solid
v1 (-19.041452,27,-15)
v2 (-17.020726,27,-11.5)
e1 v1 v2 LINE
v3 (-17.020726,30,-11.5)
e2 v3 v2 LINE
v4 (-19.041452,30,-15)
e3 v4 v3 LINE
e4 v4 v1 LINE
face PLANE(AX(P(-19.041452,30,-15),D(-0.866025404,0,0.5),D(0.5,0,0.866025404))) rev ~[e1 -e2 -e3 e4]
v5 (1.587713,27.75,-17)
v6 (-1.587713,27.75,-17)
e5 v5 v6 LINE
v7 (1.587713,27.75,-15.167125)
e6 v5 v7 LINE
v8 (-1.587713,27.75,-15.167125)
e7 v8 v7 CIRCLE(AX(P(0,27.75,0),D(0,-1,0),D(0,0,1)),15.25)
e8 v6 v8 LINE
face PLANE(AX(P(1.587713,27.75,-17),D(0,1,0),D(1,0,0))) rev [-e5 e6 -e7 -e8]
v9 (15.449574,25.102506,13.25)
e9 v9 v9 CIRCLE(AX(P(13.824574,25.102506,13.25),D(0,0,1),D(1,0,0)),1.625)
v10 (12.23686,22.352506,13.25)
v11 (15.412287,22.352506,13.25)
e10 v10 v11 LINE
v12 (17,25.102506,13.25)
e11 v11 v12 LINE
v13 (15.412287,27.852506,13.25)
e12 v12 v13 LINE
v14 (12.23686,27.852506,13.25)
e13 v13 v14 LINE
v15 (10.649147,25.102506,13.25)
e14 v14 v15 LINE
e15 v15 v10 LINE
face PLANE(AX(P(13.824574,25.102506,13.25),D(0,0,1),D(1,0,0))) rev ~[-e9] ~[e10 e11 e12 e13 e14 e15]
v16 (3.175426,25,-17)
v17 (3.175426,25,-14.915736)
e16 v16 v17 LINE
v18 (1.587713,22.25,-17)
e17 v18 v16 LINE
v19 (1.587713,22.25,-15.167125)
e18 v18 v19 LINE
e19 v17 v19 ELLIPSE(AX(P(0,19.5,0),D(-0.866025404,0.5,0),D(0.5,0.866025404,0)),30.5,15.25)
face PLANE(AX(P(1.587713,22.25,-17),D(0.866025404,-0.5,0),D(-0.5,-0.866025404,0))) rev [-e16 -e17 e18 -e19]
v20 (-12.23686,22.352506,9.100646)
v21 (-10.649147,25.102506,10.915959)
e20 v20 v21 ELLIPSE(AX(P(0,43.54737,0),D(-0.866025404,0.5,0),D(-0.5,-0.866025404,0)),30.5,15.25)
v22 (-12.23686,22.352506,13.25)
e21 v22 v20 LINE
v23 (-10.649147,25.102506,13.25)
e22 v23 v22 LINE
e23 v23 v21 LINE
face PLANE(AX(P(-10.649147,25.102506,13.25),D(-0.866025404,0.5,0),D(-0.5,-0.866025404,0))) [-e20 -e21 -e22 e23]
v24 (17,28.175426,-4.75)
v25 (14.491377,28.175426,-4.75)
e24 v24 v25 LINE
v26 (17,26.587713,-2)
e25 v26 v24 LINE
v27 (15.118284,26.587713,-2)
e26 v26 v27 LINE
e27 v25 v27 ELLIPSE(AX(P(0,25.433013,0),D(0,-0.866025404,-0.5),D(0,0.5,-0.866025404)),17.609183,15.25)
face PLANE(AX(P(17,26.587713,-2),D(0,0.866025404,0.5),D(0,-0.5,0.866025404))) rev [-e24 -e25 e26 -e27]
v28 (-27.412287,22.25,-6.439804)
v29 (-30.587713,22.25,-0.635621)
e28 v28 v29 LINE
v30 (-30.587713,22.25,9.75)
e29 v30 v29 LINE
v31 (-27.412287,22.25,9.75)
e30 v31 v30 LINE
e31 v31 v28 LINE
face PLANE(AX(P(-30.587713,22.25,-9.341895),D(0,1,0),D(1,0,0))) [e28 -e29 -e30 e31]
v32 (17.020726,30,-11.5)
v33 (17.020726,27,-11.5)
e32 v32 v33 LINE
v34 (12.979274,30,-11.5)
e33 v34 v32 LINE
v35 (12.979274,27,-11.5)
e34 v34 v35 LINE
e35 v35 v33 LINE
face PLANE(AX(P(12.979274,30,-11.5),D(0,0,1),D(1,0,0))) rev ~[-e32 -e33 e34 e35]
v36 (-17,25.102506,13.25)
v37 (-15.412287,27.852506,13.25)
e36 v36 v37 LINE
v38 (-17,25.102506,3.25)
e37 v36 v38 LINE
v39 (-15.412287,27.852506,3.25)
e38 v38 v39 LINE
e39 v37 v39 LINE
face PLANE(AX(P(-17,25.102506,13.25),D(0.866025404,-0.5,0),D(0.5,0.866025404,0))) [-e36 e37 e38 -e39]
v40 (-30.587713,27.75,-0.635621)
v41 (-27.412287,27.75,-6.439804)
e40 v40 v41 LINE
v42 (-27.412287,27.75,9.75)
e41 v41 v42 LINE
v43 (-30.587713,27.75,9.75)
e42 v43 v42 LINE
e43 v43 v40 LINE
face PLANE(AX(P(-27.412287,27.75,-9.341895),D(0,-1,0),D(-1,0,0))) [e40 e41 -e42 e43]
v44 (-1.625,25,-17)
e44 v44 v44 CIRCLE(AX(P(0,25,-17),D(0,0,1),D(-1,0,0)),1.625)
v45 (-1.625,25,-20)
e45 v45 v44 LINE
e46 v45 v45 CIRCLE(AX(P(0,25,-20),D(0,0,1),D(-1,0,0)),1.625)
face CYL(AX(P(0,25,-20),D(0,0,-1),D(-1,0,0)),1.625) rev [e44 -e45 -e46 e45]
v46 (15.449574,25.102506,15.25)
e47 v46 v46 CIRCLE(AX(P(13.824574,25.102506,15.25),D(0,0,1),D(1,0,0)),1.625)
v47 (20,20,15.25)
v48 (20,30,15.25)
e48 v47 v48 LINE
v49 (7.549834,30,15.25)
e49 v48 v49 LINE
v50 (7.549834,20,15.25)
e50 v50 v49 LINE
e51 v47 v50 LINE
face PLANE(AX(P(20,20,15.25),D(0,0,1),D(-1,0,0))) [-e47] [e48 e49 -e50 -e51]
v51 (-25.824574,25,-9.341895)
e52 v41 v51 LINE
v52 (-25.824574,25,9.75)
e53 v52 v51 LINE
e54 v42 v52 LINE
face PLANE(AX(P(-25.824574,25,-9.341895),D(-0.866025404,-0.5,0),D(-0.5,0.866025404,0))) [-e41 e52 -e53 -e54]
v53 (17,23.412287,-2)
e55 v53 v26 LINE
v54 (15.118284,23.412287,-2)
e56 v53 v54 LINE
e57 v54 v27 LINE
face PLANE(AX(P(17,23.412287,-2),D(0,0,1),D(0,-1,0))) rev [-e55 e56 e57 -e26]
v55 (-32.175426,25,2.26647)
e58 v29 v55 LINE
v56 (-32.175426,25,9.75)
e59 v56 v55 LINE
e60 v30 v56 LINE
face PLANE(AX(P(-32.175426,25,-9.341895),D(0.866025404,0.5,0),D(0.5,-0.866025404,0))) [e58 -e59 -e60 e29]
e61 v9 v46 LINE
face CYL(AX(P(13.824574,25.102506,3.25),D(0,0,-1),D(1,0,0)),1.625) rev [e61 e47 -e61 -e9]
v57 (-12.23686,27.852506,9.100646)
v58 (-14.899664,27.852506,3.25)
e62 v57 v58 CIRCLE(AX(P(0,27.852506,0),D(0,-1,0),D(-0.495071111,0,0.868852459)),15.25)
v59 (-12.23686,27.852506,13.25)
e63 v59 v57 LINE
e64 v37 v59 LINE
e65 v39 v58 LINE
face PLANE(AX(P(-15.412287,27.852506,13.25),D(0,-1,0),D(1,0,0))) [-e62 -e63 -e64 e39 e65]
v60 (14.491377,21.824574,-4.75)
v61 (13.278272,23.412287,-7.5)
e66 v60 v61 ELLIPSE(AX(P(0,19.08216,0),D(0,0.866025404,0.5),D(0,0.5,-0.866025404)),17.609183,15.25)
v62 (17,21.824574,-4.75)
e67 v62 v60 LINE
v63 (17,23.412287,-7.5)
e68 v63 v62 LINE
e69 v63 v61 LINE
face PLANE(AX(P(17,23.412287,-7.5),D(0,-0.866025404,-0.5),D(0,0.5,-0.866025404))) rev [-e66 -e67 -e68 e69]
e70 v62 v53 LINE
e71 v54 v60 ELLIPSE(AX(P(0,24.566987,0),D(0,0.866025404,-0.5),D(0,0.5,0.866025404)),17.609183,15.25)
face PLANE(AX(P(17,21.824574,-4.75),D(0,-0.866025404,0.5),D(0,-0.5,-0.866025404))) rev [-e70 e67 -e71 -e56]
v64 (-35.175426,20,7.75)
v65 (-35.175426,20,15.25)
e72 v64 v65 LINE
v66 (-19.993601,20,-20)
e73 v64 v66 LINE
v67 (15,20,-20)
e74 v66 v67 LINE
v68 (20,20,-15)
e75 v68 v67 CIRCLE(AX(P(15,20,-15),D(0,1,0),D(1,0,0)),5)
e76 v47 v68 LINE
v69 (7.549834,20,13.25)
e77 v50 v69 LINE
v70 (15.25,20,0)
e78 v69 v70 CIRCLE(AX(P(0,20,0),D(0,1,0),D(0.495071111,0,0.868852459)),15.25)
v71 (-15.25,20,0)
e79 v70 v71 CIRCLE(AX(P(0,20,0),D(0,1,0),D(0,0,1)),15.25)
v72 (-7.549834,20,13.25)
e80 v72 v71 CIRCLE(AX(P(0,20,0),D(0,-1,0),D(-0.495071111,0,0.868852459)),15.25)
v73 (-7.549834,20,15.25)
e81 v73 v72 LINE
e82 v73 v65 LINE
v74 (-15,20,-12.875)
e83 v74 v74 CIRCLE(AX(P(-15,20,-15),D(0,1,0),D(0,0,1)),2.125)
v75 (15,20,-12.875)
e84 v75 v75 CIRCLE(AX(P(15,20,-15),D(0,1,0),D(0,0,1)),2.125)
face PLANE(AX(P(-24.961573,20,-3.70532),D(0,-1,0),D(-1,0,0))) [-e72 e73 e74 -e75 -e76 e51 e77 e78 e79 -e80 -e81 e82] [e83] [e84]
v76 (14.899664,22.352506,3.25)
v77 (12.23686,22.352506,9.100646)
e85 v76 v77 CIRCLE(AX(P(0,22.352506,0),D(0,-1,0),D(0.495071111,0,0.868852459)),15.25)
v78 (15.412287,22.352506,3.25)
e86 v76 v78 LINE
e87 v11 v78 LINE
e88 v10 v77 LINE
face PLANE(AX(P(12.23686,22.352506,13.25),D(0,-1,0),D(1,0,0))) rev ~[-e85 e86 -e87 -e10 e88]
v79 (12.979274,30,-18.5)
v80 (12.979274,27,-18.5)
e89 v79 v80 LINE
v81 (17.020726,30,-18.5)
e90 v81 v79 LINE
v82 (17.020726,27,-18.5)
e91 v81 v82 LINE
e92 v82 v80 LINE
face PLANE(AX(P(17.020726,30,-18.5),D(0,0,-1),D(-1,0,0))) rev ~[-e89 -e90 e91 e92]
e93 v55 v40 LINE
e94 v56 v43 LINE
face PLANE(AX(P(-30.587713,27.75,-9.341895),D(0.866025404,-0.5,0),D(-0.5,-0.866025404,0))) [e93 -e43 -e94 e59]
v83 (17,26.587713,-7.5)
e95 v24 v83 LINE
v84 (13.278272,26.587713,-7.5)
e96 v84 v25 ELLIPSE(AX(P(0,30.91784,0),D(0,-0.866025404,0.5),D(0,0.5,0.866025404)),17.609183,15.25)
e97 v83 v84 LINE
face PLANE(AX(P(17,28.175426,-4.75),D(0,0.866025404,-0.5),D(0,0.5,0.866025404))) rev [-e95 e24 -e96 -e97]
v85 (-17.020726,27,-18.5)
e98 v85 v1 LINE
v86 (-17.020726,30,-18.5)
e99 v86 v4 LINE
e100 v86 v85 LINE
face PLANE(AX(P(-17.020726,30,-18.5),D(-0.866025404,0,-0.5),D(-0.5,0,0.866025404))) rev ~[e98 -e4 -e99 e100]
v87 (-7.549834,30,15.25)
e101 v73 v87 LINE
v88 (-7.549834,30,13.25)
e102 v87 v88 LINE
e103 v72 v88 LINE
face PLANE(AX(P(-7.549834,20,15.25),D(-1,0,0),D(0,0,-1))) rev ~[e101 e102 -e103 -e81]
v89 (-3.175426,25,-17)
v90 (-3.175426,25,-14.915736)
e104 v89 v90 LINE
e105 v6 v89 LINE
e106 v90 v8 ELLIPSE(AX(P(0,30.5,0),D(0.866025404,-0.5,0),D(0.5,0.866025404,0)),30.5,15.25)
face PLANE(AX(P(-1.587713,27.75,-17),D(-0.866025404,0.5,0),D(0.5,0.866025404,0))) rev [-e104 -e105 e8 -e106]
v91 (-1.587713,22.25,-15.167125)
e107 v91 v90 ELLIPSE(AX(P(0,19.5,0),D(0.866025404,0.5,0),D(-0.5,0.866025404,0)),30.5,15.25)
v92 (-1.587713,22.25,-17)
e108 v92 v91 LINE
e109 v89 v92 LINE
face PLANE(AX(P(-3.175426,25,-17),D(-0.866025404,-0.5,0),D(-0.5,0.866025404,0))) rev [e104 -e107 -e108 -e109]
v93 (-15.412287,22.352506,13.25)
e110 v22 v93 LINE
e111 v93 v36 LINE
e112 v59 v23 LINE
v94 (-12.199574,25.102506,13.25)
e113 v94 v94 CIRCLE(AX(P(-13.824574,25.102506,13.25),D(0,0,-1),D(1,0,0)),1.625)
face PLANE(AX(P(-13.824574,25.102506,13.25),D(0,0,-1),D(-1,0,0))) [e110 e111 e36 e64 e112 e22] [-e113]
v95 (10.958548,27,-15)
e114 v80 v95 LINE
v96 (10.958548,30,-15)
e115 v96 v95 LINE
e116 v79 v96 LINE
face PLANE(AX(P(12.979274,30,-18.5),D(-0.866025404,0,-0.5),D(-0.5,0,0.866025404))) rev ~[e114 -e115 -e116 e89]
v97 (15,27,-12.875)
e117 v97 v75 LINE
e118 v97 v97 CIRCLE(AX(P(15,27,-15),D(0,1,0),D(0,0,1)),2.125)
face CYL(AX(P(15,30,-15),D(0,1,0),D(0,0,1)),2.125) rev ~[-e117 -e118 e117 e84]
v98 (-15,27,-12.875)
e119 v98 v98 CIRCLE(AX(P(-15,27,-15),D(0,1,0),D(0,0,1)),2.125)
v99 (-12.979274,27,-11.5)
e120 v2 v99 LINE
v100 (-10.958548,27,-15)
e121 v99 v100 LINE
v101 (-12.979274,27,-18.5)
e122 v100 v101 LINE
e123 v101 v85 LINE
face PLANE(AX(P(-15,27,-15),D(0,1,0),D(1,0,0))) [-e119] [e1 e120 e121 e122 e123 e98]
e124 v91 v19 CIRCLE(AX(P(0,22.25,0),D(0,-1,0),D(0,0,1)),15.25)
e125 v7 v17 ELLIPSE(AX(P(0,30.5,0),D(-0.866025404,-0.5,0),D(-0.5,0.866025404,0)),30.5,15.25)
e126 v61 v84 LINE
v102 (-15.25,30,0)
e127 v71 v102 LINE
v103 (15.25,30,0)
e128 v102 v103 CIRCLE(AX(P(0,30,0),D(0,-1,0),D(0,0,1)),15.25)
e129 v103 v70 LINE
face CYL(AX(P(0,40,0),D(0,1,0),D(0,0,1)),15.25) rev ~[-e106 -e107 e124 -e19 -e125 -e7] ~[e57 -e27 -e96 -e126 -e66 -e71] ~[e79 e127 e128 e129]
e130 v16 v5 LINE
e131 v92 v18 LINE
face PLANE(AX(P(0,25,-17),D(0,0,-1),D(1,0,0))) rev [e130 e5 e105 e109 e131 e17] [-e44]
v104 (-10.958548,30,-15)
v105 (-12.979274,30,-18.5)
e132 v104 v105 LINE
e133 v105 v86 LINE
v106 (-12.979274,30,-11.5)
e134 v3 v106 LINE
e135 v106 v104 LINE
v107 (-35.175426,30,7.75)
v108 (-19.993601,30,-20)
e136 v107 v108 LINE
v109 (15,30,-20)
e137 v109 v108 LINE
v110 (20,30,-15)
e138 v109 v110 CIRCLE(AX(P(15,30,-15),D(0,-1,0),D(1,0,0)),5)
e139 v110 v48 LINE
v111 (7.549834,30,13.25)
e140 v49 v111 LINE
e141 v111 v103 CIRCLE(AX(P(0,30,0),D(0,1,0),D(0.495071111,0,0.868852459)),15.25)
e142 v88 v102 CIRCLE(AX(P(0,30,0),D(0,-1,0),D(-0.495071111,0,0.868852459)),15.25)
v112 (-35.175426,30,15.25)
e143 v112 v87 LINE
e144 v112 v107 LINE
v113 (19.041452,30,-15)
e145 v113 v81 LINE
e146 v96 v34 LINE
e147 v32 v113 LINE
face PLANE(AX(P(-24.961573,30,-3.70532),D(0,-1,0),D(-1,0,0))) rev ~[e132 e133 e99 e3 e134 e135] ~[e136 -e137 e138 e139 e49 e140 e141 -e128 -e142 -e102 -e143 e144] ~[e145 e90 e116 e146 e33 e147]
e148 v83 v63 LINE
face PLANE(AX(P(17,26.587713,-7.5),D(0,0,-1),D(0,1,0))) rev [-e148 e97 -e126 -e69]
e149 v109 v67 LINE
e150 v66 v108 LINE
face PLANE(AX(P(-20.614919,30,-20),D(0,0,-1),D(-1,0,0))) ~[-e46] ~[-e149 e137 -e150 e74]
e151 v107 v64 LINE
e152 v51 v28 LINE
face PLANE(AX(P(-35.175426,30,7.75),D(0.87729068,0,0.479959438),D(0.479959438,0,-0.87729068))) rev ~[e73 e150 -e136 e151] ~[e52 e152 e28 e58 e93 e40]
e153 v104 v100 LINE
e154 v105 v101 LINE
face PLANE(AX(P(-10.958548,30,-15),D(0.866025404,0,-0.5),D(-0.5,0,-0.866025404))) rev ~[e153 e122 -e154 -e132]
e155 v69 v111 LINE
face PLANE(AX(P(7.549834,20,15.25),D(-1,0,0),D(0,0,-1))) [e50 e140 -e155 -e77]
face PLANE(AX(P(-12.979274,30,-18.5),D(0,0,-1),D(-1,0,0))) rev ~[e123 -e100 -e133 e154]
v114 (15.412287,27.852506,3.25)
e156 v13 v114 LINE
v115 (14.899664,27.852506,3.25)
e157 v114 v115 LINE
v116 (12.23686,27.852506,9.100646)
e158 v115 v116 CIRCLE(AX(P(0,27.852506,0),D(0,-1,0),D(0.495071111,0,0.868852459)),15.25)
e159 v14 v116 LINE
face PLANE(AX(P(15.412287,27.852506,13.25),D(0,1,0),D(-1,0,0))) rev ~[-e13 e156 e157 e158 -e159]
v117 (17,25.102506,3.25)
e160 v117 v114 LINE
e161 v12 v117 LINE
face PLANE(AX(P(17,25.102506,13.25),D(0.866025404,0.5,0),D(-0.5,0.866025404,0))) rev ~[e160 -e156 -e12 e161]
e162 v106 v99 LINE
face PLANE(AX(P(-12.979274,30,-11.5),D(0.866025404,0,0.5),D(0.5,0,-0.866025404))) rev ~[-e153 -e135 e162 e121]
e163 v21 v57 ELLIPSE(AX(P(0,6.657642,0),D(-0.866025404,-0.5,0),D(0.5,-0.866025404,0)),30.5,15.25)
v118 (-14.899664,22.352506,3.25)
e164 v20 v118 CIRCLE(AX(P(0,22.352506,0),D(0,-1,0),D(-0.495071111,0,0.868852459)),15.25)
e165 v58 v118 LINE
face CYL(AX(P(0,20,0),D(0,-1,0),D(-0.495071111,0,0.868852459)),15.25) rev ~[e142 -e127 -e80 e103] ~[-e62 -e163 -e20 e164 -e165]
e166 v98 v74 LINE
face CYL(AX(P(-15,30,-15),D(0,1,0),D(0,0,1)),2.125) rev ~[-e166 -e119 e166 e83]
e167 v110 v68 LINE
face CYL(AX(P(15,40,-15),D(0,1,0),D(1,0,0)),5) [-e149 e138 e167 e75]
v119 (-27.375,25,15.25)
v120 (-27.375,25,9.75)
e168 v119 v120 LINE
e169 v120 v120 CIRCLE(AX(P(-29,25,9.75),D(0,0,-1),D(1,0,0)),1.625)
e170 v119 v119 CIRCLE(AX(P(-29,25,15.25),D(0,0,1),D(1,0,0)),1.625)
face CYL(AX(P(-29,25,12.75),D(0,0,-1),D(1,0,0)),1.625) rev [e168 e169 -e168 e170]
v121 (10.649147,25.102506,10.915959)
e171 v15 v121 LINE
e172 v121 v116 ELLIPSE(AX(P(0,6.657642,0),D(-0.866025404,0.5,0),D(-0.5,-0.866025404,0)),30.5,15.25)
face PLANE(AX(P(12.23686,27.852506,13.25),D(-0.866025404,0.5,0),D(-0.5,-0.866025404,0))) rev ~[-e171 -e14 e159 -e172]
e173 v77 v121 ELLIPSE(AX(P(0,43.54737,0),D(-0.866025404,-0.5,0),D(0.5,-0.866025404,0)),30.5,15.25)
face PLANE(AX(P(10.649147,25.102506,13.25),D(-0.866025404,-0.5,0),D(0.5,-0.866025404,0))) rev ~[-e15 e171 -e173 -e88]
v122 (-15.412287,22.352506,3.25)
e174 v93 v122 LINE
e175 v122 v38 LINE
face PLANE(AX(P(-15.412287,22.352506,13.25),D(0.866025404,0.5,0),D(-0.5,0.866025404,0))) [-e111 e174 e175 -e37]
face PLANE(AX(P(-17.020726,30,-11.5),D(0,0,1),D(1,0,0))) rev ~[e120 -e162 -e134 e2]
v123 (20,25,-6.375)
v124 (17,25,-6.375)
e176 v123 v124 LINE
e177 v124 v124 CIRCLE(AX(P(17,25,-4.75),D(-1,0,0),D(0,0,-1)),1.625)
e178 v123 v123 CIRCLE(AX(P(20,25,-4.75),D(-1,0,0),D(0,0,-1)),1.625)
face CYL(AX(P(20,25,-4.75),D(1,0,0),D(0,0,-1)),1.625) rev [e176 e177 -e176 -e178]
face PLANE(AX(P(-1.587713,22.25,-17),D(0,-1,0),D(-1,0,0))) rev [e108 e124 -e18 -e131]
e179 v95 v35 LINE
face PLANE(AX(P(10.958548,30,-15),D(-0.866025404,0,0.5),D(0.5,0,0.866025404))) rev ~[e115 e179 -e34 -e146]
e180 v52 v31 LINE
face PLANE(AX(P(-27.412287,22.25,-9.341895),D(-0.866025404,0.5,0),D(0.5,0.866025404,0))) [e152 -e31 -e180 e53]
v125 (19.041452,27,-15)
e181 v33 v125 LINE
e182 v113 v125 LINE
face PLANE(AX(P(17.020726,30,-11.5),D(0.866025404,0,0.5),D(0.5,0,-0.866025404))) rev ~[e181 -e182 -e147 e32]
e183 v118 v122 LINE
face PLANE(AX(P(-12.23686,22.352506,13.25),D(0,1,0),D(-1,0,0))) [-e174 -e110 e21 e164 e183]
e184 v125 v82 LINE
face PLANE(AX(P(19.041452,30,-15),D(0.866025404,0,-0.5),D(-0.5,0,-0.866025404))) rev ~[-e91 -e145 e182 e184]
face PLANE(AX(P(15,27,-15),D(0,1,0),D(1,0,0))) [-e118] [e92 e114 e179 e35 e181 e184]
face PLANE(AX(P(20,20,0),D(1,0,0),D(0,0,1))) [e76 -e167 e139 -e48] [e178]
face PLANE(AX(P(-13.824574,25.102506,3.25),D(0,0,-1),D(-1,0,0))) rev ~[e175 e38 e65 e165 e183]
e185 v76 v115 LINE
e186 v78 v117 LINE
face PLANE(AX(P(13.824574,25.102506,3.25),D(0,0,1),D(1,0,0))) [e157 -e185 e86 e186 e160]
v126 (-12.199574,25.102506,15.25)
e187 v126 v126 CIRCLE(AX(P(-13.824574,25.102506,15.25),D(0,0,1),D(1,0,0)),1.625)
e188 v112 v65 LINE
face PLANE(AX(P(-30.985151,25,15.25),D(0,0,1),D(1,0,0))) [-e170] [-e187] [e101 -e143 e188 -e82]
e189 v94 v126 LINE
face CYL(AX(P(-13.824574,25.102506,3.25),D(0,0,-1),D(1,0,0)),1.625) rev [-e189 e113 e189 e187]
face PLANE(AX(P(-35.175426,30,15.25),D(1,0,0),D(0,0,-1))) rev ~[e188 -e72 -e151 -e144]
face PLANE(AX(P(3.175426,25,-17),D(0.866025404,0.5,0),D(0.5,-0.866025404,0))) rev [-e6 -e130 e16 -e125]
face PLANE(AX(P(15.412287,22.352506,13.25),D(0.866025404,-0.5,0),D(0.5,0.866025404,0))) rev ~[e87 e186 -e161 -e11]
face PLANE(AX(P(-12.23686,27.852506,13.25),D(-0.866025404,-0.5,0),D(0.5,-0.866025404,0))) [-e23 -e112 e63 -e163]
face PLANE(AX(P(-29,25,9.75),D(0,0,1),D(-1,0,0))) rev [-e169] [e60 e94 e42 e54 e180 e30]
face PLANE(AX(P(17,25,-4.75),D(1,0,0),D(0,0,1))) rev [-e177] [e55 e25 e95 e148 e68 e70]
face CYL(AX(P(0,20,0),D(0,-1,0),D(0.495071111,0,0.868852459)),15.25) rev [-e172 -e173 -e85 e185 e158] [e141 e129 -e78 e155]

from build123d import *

# Parameters (mm, degrees)
CROQUIS1_R                              = 15.25
CROQUIS1_R_2                            = 2.125
SOPORTE_CAJA_REDUCTORA_DEPTH            = 20
CROQUIS3_R                              = 2.125
CORTAR_EXTRUIR1_DEPTH                   = 51.423828692
REDONDEO1_R                             = 5
BOSS_EXTRUDE1_DEPTH                     = 20
CUT_EXTRUDE1_REACH                      = 55.852
SKETCH2_R                               = 1.625
CUT_EXTRUDE2_DEPTH                      = 2
SKETCH4_R                               = 1.625
CUT_EXTRUDE3_DEPTH                      = 63.291652731
CUT_EXTRUDE4_START                      = -4.5
CUT_EXTRUDE4_DEPTH                      = 2
CROQUIS6_W                              = 4.75
CROQUIS6_H                              = 4.75
CORTAR_EXTRUIR17_DEPTH                  = 42.231056256
CROQUIS7_W                              = 60
CROQUIS7_H                              = 20
CORTAR_EXTRUIR18_DEPTH                  = 51.423828692
SALIENTE_EXTRUIR2_DEPTH                 = 49
SOPORTE_START                           = -15
SOPORTE_MOTOR_DEPTH                     = 15
CROQUIS12_R                             = 2.125
AGUJEROS_DE_SUJECION_A_BASE_DEPTH       = 84.087679592
TUERCA_START                            = -4
TUERCA_AGUJERO_DE_SUJECION_A_BASE_DEPTH = 10
SALIENTE_EXTRUIR4_DEPTH                 = 15
CORTAR_EXTRUIR19_DEPTH                  = 25
CROQUIS14_W                             = 50
CROQUIS14_H                             = 118
CORTAR_EXTRUIR22_DEPTH                  = 146.556045907
CROQUIS15_W                             = 10
CROQUIS15_H                             = 7
CORTAR_EXTRUIR23_DEPTH                  = 42.231056256
CORTAR_EXTRUIR24_DEPTH                  = 42.231056256
CROQUIS18_W                             = 40
CROQUIS18_H                             = 10
CORTAR_EXTRUIR25_DEPTH                  = 44.27311521
SALIENTE_EXTRUIR5_DEPTH                 = 10
CROQUIS20_R                             = 1
CORTAR_EXTRUIR26_DEPTH                  = 49.229270158
CORTAR_EXTRUIR27_REACH                  = 62.959
CORTAR_EXTRUIR27_END_RADIUS             = 15.25
CROQUIS21_R                             = 1.625
CROQUIS22_R                             = 2.125
CROQUIS22_R_2                           = 1
SALIENTE_EXTRUIR6_DEPTH                 = 10
CROQUIS23_R                             = 1.625
CORTAR_EXTRUIR28_DEPTH                  = 52.269508521
CORTAR_EXTRUIR29_START                  = -3
CORTAR_EXTRUIR29_DEPTH                  = 10
SALIENTE_EXTRUIR7_DEPTH                 = 10
CORTAR_EXTRUIR30_REACH                  = 72.235
CROQUIS27_R                             = 1.625
CORTAR_EXTRUIR31_REACH                  = 75.235
CORTAR_EXTRUIR31_START                  = -3
CORTAR_EXTRUIR32_REACH                  = 58.612
CROQUIS29_R                             = 1.625
CORTAR_EXTRUIR33_REACH                  = 61.112
CORTAR_EXTRUIR33_START                  = -2.5
CROQUIS35_W                             = 13.305418987
CROQUIS35_H                             = 6.826864192
CORTAR_EXTRUIR34_DEPTH                  = 63.931555098
CORTAR_EXTRUIR34_DEPTH_BACK             = 63.931555098
CORTAR_EXTRUIR35_START                  = -3
CORTAR_EXTRUIR35_DEPTH                  = 10
SALIENTE_EXTRUIR8_DEPTH                 = 10
SALIENTE_EXTRUIR9_DEPTH                 = 13
SALIENTE_EXTRUIR10_DEPTH                = 3
CROQUIS40_W                             = 106.583537839
CROQUIS40_H                             = 47.391515964
CORTAR_EXTRUIR36_DEPTH                  = 80.887064817
CORTAR_EXTRUIR36_DEPTH_BACK             = 80.887064817
CORTAR_EXTRUIR37_DEPTH                  = 67.2524009
CORTAR_EXTRUIR37_DEPTH_BACK             = 67.2524009
CORTAR_EXTRUIR38_DEPTH                  = 79.704784639
CORTAR_EXTRUIR38_DEPTH_BACK             = 79.704784639
SALIENTE_EXTRUIR11_DEPTH                = 10
CORTAR_EXTRUIR39_DEPTH                  = 63.9908649
CROQUIS45_W                             = 31.470301378
CROQUIS45_H                             = 10
CROQUIS45_R                             = 1.625
SALIENTE_EXTRUIR12_DEPTH                = 2.5
SALIENTE_EXTRUIR13_DEPTH                = 10
CORTAR_EXTRUIR40_START                  = -2
CROQUIS47_R                             = 1.625
CORTAR_EXTRUIR40_DEPTH                  = 10
CORTAR_EXTRUIR41_START                  = -12
CROQUIS48_R                             = 1.625
CORTAR_EXTRUIR41_DEPTH                  = 12
CORTAR_EXTRUIR42_DEPTH                  = 3
CROQUIS50_R                             = 2.125
CORTAR_EXTRUIR43_DEPTH                  = 52.795622989
CORTAR_EXTRUIR43_DEPTH_BACK             = 52.795622989
CORTAR_EXTRUIR44_DEPTH                  = 52.795622989
CORTAR_EXTRUIR44_DEPTH_BACK             = 52.795622989
SALIENTE_EXTRUIR14_DEPTH                = 10
CORTAR_EXTRUIR45_START                  = -24.591895
CORTAR_EXTRUIR45_DEPTH                  = 17.091895


with BuildPart() as part:
    # Croquis1 → Soporte caja reductora (new body)
    with BuildSketch(Plane(origin=(0, 0, 0), x_dir=(1, 0, 0), z_dir=(0, 1, 0))):
        Polygon((-30, -15.25), (-20, -15.25), (-20, -20), (20, -20), (20, -15.25), (30, -15.25), (30, -7.25), (20, -4.25), (20, 20), (-20, 20), (-20, -4.25), (-30, -7.25), align=None)
        with Locations(Location((0, 0, 0), (0, 0, 270))):
            Circle(CROQUIS1_R, mode=Mode.SUBTRACT)
        with Locations(Location((-15, 15, 0), (0, 0, 270))):
            Circle(CROQUIS1_R_2, mode=Mode.SUBTRACT)
        with Locations(Location((15, 15, 0), (0, 0, 270))):
            Circle(CROQUIS1_R_2, mode=Mode.SUBTRACT)
    extrude(amount=-SOPORTE_CAJA_REDUCTORA_DEPTH)

    # Croquis3 → Cortar-Extruir1 (cut, through all)
    with BuildSketch(Plane.XY.offset(15.25)):
        with Locations((-23.5, -10)):
            Circle(CROQUIS3_R)
        with Locations((23.5, -10)):
            Circle(CROQUIS3_R)
    extrude(amount=-CORTAR_EXTRUIR1_DEPTH, mode=Mode.SUBTRACT)

    # Redondeo1
    redondeo1_edges = [part.edges().sort_by_distance(p)[0] for p in [
        (-20, -10, -20),
        (20, -10, -20),
    ]]
    fillet(redondeo1_edges, radius=REDONDEO1_R)

    # Sketch1 → Boss-Extrude1 (add)
    with BuildSketch(Plane(origin=(0, 0, 0), x_dir=(1, 0, 0), z_dir=(0, 1, 0))):
        with BuildLine():
            Line((25.5, 15), (20, 15))
            ThreePointArc((20, 15), (18.535533906, 18.535533906), (15, 20))
            Line((15, 20), (30, 20))
            Line((30, 20), (30, 8))
            Line((30, 8), (25.5, 8))
            Line((25.5, 8), (25.5, 15))
        make_face()
    extrude(amount=-BOSS_EXTRUDE1_DEPTH)

    # Sketch2 → Cut-Extrude1 (cut, up to next)
    with BuildSketch(Plane(origin=(0, 0, -20), x_dir=(-1, 0, 0), z_dir=(0, 0, -1)), mode=Mode.PRIVATE) as cut_extrude1_sk1:
        with Locations((-22.75, -10)):
            Circle(SKETCH2_R)
    cut_extrude1_tool1 = extrude(cut_extrude1_sk1.sketch, amount=-CUT_EXTRUDE1_REACH, mode=Mode.PRIVATE) & part.part
    add(cut_extrude1_tool1.solids().sort_by_distance((22.75, -10, -20))[0], mode=Mode.SUBTRACT)

    # Sketch3 → Cut-Extrude2 (cut)
    with BuildSketch(Plane.XY.offset(-15)):
        Polygon((20, -11.58771324), (22.75, -13.175426481), (25.5, -11.58771324), (25.5, -8.41228676), (22.75, -6.824573519), (20, -8.41228676), align=None)
    extrude(amount=-CUT_EXTRUDE2_DEPTH, mode=Mode.SUBTRACT)

    # Sketch4 → Cut-Extrude3 (cut, through all)
    with BuildSketch(Plane.ZY.offset(-25.5)):
        with Locations((-12.25, -10)):
            Circle(SKETCH4_R)
    extrude(amount=-CUT_EXTRUDE3_DEPTH, mode=Mode.SUBTRACT)

    # Sketch5 → Cut-Extrude4 (cut)
    with BuildSketch(Plane(origin=(30, 0, 0), x_dir=(0, 0, -1), z_dir=(1, 0, 0)).offset(CUT_EXTRUDE4_START)):
        Polygon((15, -11.58771324), (15, -8.41228676), (12.25, -6.824573519), (9.5, -8.41228676), (9.5, -11.58771324), (12.25, -13.175426481), align=None)
    extrude(amount=CUT_EXTRUDE4_DEPTH, mode=Mode.SUBTRACT)

    # Croquis6 → Cortar-Extruir17 (cut, through all)
    with BuildSketch(Plane(origin=(0, 0, 0), x_dir=(1, 0, 0), z_dir=(0, 1, 0))):
        Polygon((0, -15.25), (-15.25, -15.25), (-15.25, -20), (15.25, -20), (15.25, -15.25), align=None)
        with Locations((-17.625, -17.625)):
            Rectangle(CROQUIS6_W, CROQUIS6_H)
        with BuildLine():
            ThreePointArc((0, -15.25), (-10.783378413, -10.783378413), (-15.25, 0))
            Line((-15.25, 0), (-15.25, -15.25))
            Line((-15.25, -15.25), (0, -15.25))
        make_face()
        with BuildLine():
            Line((15.25, -15.25), (15.25, 0))
            ThreePointArc((15.25, 0), (10.783378413, -10.783378413), (0, -15.25))
            Line((0, -15.25), (15.25, -15.25))
        make_face()
        with Locations((17.625, -17.625)):
            Rectangle(CROQUIS6_W, CROQUIS6_H)
    extrude(amount=-CORTAR_EXTRUIR17_DEPTH, mode=Mode.SUBTRACT)


with BuildPart() as body_2:
    # Simetría1: mirrored copy
    add(part.part.mirror(Plane.ZX))

    # Croquis8 → Saliente-Extruir2 (add)
    with BuildSketch(Plane(origin=(0, 20, 0), x_dir=(1, 0, 0), z_dir=(0, 1, 0))):
        with BuildLine():
            Line((-12.664515522, 20), (-11.040489496, 13.939052358))
            Line((-11.040489496, 13.939052358), (-10.315162126, 11.232093763))
            ThreePointArc((-10.315162126, 11.232093763), (0, 15.25), (10.315162126, 11.232093763))
            Line((10.315162126, 11.232093763), (10.817418481, 13.87928066))
            Line((10.817418481, 13.87928066), (11.978715476, 20))
            Line((11.978715476, 20), (-12.664515522, 20))
        make_face()
    extrude(amount=SALIENTE_EXTRUIR2_DEPTH)

    # Croquis9 → Soporte motor (add)
    with BuildSketch(Plane(origin=(0, 69, 0), x_dir=(1, 0, 0), z_dir=(0, 1, 0)).offset(SOPORTE_START)):
        with BuildLine():
            Line((-20, 15), (-20, -4.25))
            Line((-20, -4.25), (-30, -7.25))
            Line((-30, -7.25), (-30, -15.25))
            Line((-30, -15.25), (0, -15.25))
            Line((0, -15.25), (0, -14.75))
            ThreePointArc((0, -14.75), (-10.429825023, 10.429825023), (14.75, 0))
            Line((14.75, 0), (20, 0))
            Line((20, 0), (20, 13.936837101))
            Line((20, 13.936837101), (12.664515522, 20))
            Line((12.664515522, 20), (-15, 20))
            ThreePointArc((-15, 20), (-18.535533906, 18.535533906), (-20, 15))
        make_face()
    extrude(amount=-SOPORTE_MOTOR_DEPTH)

    # Croquis12 → Agujeros de sujecion a base (cut, through all)
    with BuildSketch(Plane.XY.offset(15.25)):
        with Locations((-23.5, 46.5)):
            Circle(CROQUIS12_R)
    extrude(amount=-AGUJEROS_DE_SUJECION_A_BASE_DEPTH, mode=Mode.SUBTRACT)

    # Croquis13 → Tuerca Agujero de sujecion a base (cut)
    with BuildSketch(Plane.XY.offset(15.25).offset(TUERCA_START)):
        Polygon((-20, 44.479274058), (-20, 48.520725942), (-23.5, 50.541451884), (-27, 48.520725942), (-27, 44.479274058), (-23.5, 42.458548116), align=None)
    extrude(amount=-TUERCA_AGUJERO_DE_SUJECION_A_BASE_DEPTH, mode=Mode.SUBTRACT)

    # Croquis10 → Saliente-Extruir4 (add)
    with BuildSketch(Plane(origin=(0, 69, 0), x_dir=(1, 0, 0), z_dir=(0, 1, 0))):
        with BuildLine():
            ThreePointArc((10.315162126, 11.232093763), (0, 15.25), (-10.315162126, 11.232093763))
            Line((-10.315162126, 11.232093763), (-10.16850369, 10.684757026))
            ThreePointArc((-10.16850369, 10.684757026), (0, 14.75), (10.16850369, 10.684757026))
            Line((10.16850369, 10.684757026), (10.315162126, 11.232093763))
        make_face()
    extrude(amount=-SALIENTE_EXTRUIR4_DEPTH)

    # Croquis11 → Cortar-Extruir19 (cut)
    with BuildSketch(Plane.XZ):
        with BuildLine():
            Line((15.25, 4.25), (20, 4.25))
            Line((20, 4.25), (21.972856468, 4.84185694))
            ThreePointArc((21.972856468, 4.84185694), (19.948931102, 10.40625523), (16.543503257, 15.25))
            Line((16.543503257, 15.25), (15.25, 15.25))
            Line((15.25, 15.25), (15.25, 4.25))
        make_face()
        with BuildLine():
            Line((21.972856468, 4.84185694), (30, 7.25))
            Line((30, 7.25), (30, 15.25))
            Line((30, 15.25), (16.543503257, 15.25))
            ThreePointArc((16.543503257, 15.25), (19.948931102, 10.40625523), (21.972856468, 4.84185694))
        make_face()
        with BuildLine():
            ThreePointArc((20, -15), (18.535533906, -18.535533906), (15, -20))
            Line((15, -20), (30, -20))
            Line((30, -20), (30, -8))
            Line((30, -8), (25.5, -8))
            Line((25.5, -8), (25.5, -15))
            Line((25.5, -15), (20, -15))
        make_face()
    extrude(amount=-CORTAR_EXTRUIR19_DEPTH, mode=Mode.SUBTRACT)

    # Simetría2: body 2 across face


with BuildPart() as part_1:
    add(part.part)

    # Croquis7 → Cortar-Extruir18 (cut, through all)
    with BuildSketch(Plane(origin=(0, 0, -20), x_dir=(-1, 0, 0), z_dir=(0, 0, -1))):
        with Locations((0, -10)):
            Rectangle(CROQUIS7_W, CROQUIS7_H)
    extrude(amount=-CORTAR_EXTRUIR18_DEPTH, mode=Mode.SUBTRACT)


with BuildPart() as body_2_1:
    add(body_2.part)
    add(body_2.part.mirror(Plane(origin=(-0.229209569, 69, -16.663998028), x_dir=(0, 0, 1), z_dir=(0, 1, 0))))

    # Croquis14 → Cortar-Extruir22 (cut, through all)
    with BuildSketch(Plane.XY.offset(15.25)):
        with Locations((-5, 79)):
            Rectangle(CROQUIS14_W, CROQUIS14_H)
    extrude(amount=-CORTAR_EXTRUIR22_DEPTH, mode=Mode.SUBTRACT)

    # Croquis15 → Cortar-Extruir23 (cut, through all)
    with BuildSketch(Plane.XZ):
        with Locations((-25, 7.75)):
            Rectangle(CROQUIS15_W, CROQUIS15_H)
    extrude(amount=-CORTAR_EXTRUIR23_DEPTH, mode=Mode.SUBTRACT)

    # Croquis16 → Cortar-Extruir24 (cut, through all)
    with BuildSketch(Plane.XZ):
        Polygon((-30, 15.25), (-15.25, 15.25), (-15.25, 12.75), (-20, 12.75), (-20, 11.25), (-30, 11.25), (-30, 12.75), align=None)
    extrude(amount=-CORTAR_EXTRUIR24_DEPTH, mode=Mode.SUBTRACT)

    # Croquis18 → Cortar-Extruir25 (cut, through all)
    with BuildSketch(Plane(origin=(0, 0, -20), x_dir=(-1, 0, 0), z_dir=(0, 0, -1))):
        with Locations((0, 5)):
            Rectangle(CROQUIS18_W, CROQUIS18_H)
    extrude(amount=-CORTAR_EXTRUIR25_DEPTH, mode=Mode.SUBTRACT)

    # Croquis19 → Saliente-Extruir5 (add)
    with BuildSketch(Plane(origin=(0, 20, 0), x_dir=(1, 0, 0), z_dir=(0, 1, 0))):
        Polygon((-20, -12.75), (-34, -12.75), (-34, -7.75), (-24, -7.75), (-20, -3.75), align=None)
    extrude(amount=-SALIENTE_EXTRUIR5_DEPTH)

    # Croquis20 → Cortar-Extruir26 (cut, through all)
    with BuildSketch(Plane(origin=(0, 0, 7.75), x_dir=(-1, 0, 0), z_dir=(0, 0, -1))):
        with Locations((29, 15)):
            Circle(CROQUIS20_R)
    extrude(amount=-CORTAR_EXTRUIR26_DEPTH, mode=Mode.SUBTRACT)

    # Cortar-Extruir27: up to this cylinder (the profile starts outside it)
    cortar_extruir27_end = Plane(origin=(0, 15, 0), z_dir=(0, -1, 0)) * Cylinder(CORTAR_EXTRUIR27_END_RADIUS, 157.418, mode=Mode.PRIVATE)
    # Croquis21 → Cortar-Extruir27 (cut, up to the surface)
    with BuildSketch(Plane(origin=(20, 0, 0), x_dir=(0, 0, -1), z_dir=(1, 0, 0)), mode=Mode.PRIVATE) as cortar_extruir27_sk1:
        with Locations((4.75, 15)):
            Circle(CROQUIS21_R)
    cortar_extruir27_tool1 = extrude(cortar_extruir27_sk1.sketch, amount=-CORTAR_EXTRUIR27_REACH, mode=Mode.PRIVATE) - cortar_extruir27_end
    add(cortar_extruir27_tool1.solids().sort_by_distance((20, 15, -4.75))[0], mode=Mode.SUBTRACT)

    # Croquis22 → Saliente-Extruir6 (add)
    with BuildSketch(Plane.XZ.offset(-10)):
        with Locations((-15, -15)):
            Circle(CROQUIS22_R)
        with Locations(Location((-15, -15, 0), (0, 0, 270))):
            Circle(CROQUIS22_R_2, mode=Mode.SUBTRACT)
        with Locations((15, -15)):
            Circle(CROQUIS22_R)
        with Locations(Location((15, -15, 0), (0, 0, 270))):
            Circle(CROQUIS22_R_2, mode=Mode.SUBTRACT)
    extrude(amount=-SALIENTE_EXTRUIR6_DEPTH)

    # Croquis23 → Cortar-Extruir28 (cut, through all)
    with BuildSketch(Plane(origin=(0, 0, -20), x_dir=(-1, 0, 0), z_dir=(0, 0, -1))):
        with Locations((0, 15)):
            Circle(CROQUIS23_R)
    extrude(amount=-CORTAR_EXTRUIR28_DEPTH, mode=Mode.SUBTRACT)

    # Croquis24 → Cortar-Extruir29 (cut)
    with BuildSketch(Plane(origin=(0, 0, -20), x_dir=(-1, 0, 0), z_dir=(0, 0, -1)).offset(CORTAR_EXTRUIR29_START)):
        Polygon((1.58771324, 12.25), (3.175426481, 15), (1.58771324, 17.75), (-1.58771324, 17.75), (-3.175426481, 15), (-1.58771324, 12.25), align=None)
    extrude(amount=-CORTAR_EXTRUIR29_DEPTH, mode=Mode.SUBTRACT)

    # Croquis26 → Saliente-Extruir7 (add)
    with BuildSketch(Plane.XZ.offset(-10)):
        Polygon((-34, 7.75), (-34, 12.75), (-58.825, 12.75), (-39.160527763, -4.104491148), (-20, -4.104491148), (-20, -0.104491148), (-35.732113118, -0.104491148), (-29, 7.75), align=None)
        Polygon((-34.268209086, 7.75), (-39.594516123, 1.535690951), (-46.844874897, 7.75), align=None, mode=Mode.SUBTRACT)
    extrude(amount=-SALIENTE_EXTRUIR7_DEPTH)

    # Croquis27 → Cortar-Extruir30 (cut, up to next)
    with BuildSketch(Plane.XY.offset(12.75), mode=Mode.PRIVATE) as cortar_extruir30_sk1:
        with Locations((-40.544874897, 15)):
            Circle(CROQUIS27_R)
    cortar_extruir30_tool1 = extrude(cortar_extruir30_sk1.sketch, amount=-CORTAR_EXTRUIR30_REACH, mode=Mode.PRIVATE) & body_2_1.part
    # Croquis27 → Cortar-Extruir30 (cut, up to next)
    with BuildSketch(Plane.XY.offset(12.75), mode=Mode.PRIVATE) as cortar_extruir30_sk2:
        with Locations((-29, 15)):
            Circle(CROQUIS27_R)
    cortar_extruir30_tool2 = extrude(cortar_extruir30_sk2.sketch, amount=-CORTAR_EXTRUIR30_REACH, mode=Mode.PRIVATE) & body_2_1.part
    add(cortar_extruir30_tool1.solids().sort_by_distance((-40.544875, 15, 12.75))[0], mode=Mode.SUBTRACT)
    add(cortar_extruir30_tool2.solids().sort_by_distance((-29, 15, 12.75))[0], mode=Mode.SUBTRACT)

    # Croquis28 → Cortar-Extruir31 (cut, up to next)
    with BuildSketch(Plane.XY.offset(12.75).offset(CORTAR_EXTRUIR31_START), mode=Mode.PRIVATE) as cortar_extruir31_sk1:
        Polygon((-38.957161657, 12.25), (-37.369448416, 15), (-38.957161657, 17.75), (-42.132588137, 17.75), (-43.720301378, 15), (-42.132588137, 12.25), align=None)
    cortar_extruir31_tool1 = extrude(cortar_extruir31_sk1.sketch, amount=-CORTAR_EXTRUIR31_REACH, mode=Mode.PRIVATE) & body_2_1.part
    # Croquis28 → Cortar-Extruir31 (cut, up to next)
    with BuildSketch(Plane.XY.offset(12.75).offset(CORTAR_EXTRUIR31_START), mode=Mode.PRIVATE) as cortar_extruir31_sk2:
        Polygon((-27.41228676, 12.25), (-25.824573519, 15), (-27.41228676, 17.75), (-30.58771324, 17.75), (-32.175426481, 15), (-30.58771324, 12.25), align=None)
    cortar_extruir31_tool2 = extrude(cortar_extruir31_sk2.sketch, amount=-CORTAR_EXTRUIR31_REACH, mode=Mode.PRIVATE) & body_2_1.part
    add(cortar_extruir31_tool1.solids().sort_by_distance((-40.544875, 15, 9.75))[0], mode=Mode.SUBTRACT)
    add(cortar_extruir31_tool2.solids().sort_by_distance((-29, 15, 9.75))[0], mode=Mode.SUBTRACT)

    # Croquis29 → Cortar-Extruir32 (cut, up to next)
    with BuildSketch(Plane(origin=(-18.612848159, 0, -21.715982563), x_dir=(-0.7592713073348843, 0, 0.6507742172658468), z_dir=(-0.6507742172658468, 0, -0.7592713073348843)), mode=Mode.PRIVATE) as cortar_extruir32_sk1:
        with Locations((33.812368097, 15)):
            Circle(CROQUIS29_R)
    cortar_extruir32_tool1 = extrude(cortar_extruir32_sk1.sketch, amount=-CORTAR_EXTRUIR32_REACH, mode=Mode.PRIVATE) & body_2_1.part
    add(cortar_extruir32_tool1.solids().sort_by_distance((-44.285609, 15, 0.288235))[0], mode=Mode.SUBTRACT)

    # Croquis31 → Cortar-Extruir33 (cut, up to next)
    with BuildSketch(Plane(origin=(-18.612848159, 0, -21.715982563), x_dir=(-0.7592713073348843, 0, 0.6507742172658468), z_dir=(-0.6507742172658468, 0, -0.7592713073348843)).offset(CORTAR_EXTRUIR33_START), mode=Mode.PRIVATE) as cortar_extruir33_sk1:
        Polygon((36.562368097, 16.58771324), (33.812368097, 18.175426481), (31.062368097, 16.58771324), (31.062368097, 13.41228676), (33.812368097, 11.824573519), (36.562368097, 13.41228676), align=None)
    cortar_extruir33_tool1 = extrude(cortar_extruir33_sk1.sketch, amount=-CORTAR_EXTRUIR33_REACH, mode=Mode.PRIVATE) & body_2_1.part
    add(cortar_extruir33_tool1.solids().sort_by_distance((-42.658674, 15, 2.186413))[0], mode=Mode.SUBTRACT)

    # Croquis35 → Cortar-Extruir34 (cut, two sides)
    with BuildSketch(Plane(origin=(0, 20, 0), x_dir=(1, 0, 0), z_dir=(0, 1, 0))) as cortar_extruir34_sk:
        with Locations((17.04227466, -3.413432096)):
            Rectangle(CROQUIS35_W, CROQUIS35_H)
    extrude(amount=CORTAR_EXTRUIR34_DEPTH, mode=Mode.SUBTRACT)
    extrude(cortar_extruir34_sk.sketch, amount=-CORTAR_EXTRUIR34_DEPTH_BACK, mode=Mode.SUBTRACT)

    # Croquis36 → Cortar-Extruir35 (cut)
    with BuildSketch(Plane(origin=(20, 0, 0), x_dir=(0, 0, -1), z_dir=(1, 0, 0)).offset(CORTAR_EXTRUIR35_START)):
        Polygon((7.5, 16.58771324), (4.75, 18.175426481), (2, 16.58771324), (2, 13.41228676), (4.75, 11.824573519), (7.5, 13.41228676), align=None)
    extrude(amount=-CORTAR_EXTRUIR35_DEPTH, mode=Mode.SUBTRACT)

    # Croquis37 → Saliente-Extruir8 (add)
    with BuildSketch(Plane.XZ.offset(-10)):
        Polygon((-39.160527763, -4.104491148), (-20.614919368, -20), (-15, -20), (-19.558128305, -15.637570403), (-33.014002756, -4.104491148), align=None)
    extrude(amount=-SALIENTE_EXTRUIR8_DEPTH)

    # Croquis38 → Saliente-Extruir9 (add)
    with BuildSketch(Plane.XZ.offset(-10)):
        Polygon((-58.825, 12.75), (-38.825, 12.75), (-38.825, 9.75), (-55.324839942, 9.75), align=None)
    extrude(amount=SALIENTE_EXTRUIR9_DEPTH)

    # Croquis39 → Saliente-Extruir10 (add)
    with BuildSketch(Plane.XZ.offset(-10)):
        Polygon((-38.825, 9.75), (-38.825, 7.75), (-38.825, 5.75), (-50.657959865, 5.75), (-52.991399903, 7.75), (-55.324839942, 9.75), align=None)
    extrude(amount=SALIENTE_EXTRUIR10_DEPTH)

    # Simetría3: body 2 across face


with BuildPart() as body_2_2:
    add(body_2_1.part)
    add(body_2_1.part.mirror(Plane(origin=(-18.003999227, 20, -4.220503046), x_dir=(0, 0, 1), z_dir=(0, 1, 0))))

    # Croquis40 → Cortar-Extruir36 (cut, two sides)
    with BuildSketch(Plane(origin=(0, 0, -20), x_dir=(-1, 0, 0), z_dir=(0, 0, -1))) as cortar_extruir36_sk:
        with Locations((22.395502026, -3.695757982)):
            Rectangle(CROQUIS40_W, CROQUIS40_H)
    extrude(amount=CORTAR_EXTRUIR36_DEPTH, mode=Mode.SUBTRACT)
    extrude(cortar_extruir36_sk.sketch, amount=-CORTAR_EXTRUIR36_DEPTH_BACK, mode=Mode.SUBTRACT)

    # Croquis41 → Cortar-Extruir37 (cut, two sides)
    with BuildSketch(Plane.XZ.offset(-20)) as cortar_extruir37_sk:
        Polygon((-19.992980133, -22.302484261), (-20, 3.75), (-24, 7.75), (-56.035110209, 7.75), align=None)
    extrude(amount=CORTAR_EXTRUIR37_DEPTH, mode=Mode.SUBTRACT)
    extrude(cortar_extruir37_sk.sketch, amount=-CORTAR_EXTRUIR37_DEPTH_BACK, mode=Mode.SUBTRACT)

    # Croquis42 → Cortar-Extruir38 (cut, two sides)
    with BuildSketch(Plane(origin=(0, 0, 9.75), x_dir=(-1, 0, 0), z_dir=(0, 0, -1))) as cortar_extruir38_sk:
        Polygon((46.720301378, 20), (46.720301378, 30), (38.825, 30), (33.492952769, 43.760628779), (49.525340398, 48.951442806), (67.200390695, 42.512205152), (65.906601328, 20), (51.713995885, 13.864168239), align=None)
    extrude(amount=CORTAR_EXTRUIR38_DEPTH, mode=Mode.SUBTRACT)
    extrude(cortar_extruir38_sk.sketch, amount=-CORTAR_EXTRUIR38_DEPTH_BACK, mode=Mode.SUBTRACT)

    # Croquis43 → Saliente-Extruir11 (add)
    with BuildSketch(Plane.XZ.offset(-20)):
        Polygon((-19.993600539, -20), (-46.720301378, 7.75), (-43.839252857, 10.524807997), (-17.112552018, -17.225192003), align=None)
    extrude(amount=-SALIENTE_EXTRUIR11_DEPTH)

    # Croquis44 → Cortar-Extruir39 (cut, through all)
    with BuildSketch(Plane(origin=(0, 0, 9.75), x_dir=(-1, 0, 0), z_dir=(0, 0, -1))):
        Polygon((38.957161657, 27.75), (37.369448416, 25), (38.957161657, 22.25), (42.132588137, 22.25), (43.720301378, 25), (42.132588137, 27.75), align=None)
    extrude(amount=CORTAR_EXTRUIR39_DEPTH, mode=Mode.SUBTRACT)

    # Croquis45 → Saliente-Extruir12 (add)
    with BuildSketch(Plane.XY.offset(12.75)):
        with Locations((-30.985150689, 25)):
            Rectangle(CROQUIS45_W, CROQUIS45_H)
        with Locations((-40.544874897, 25)):
            Circle(CROQUIS45_R, mode=Mode.SUBTRACT)
        with Locations((-29, 25)):
            Circle(CROQUIS45_R, mode=Mode.SUBTRACT)
    extrude(amount=SALIENTE_EXTRUIR12_DEPTH)

    # Croquis46 → Saliente-Extruir13 (add)
    with BuildSketch(Plane.XZ.offset(-20)):
        with BuildLine():
            Line((15.25, 0), (20, 0))
            Line((20, 0), (20, 15.25))
            Line((20, 15.25), (7.549834435, 15.25))
            Line((7.549834435, 15.25), (7.549834435, 13.25))
            ThreePointArc((7.549834435, 13.25), (13.185171124, 7.662490615), (15.25, 0))
        make_face()
        with BuildLine():
            Line((-15.25, 0), (-15.25, 15.25))
            Line((-15.25, 15.25), (-7.549834435, 15.25))
            Line((-7.549834435, 15.25), (-7.549834435, 13.25))
            ThreePointArc((-7.549834435, 13.25), (-13.185171124, 7.662490615), (-15.25, 0))
        make_face()
    extrude(amount=-SALIENTE_EXTRUIR13_DEPTH)

    # Croquis47 → Cortar-Extruir40 (cut)
    with BuildSketch(Plane.XY.offset(15.25).offset(CORTAR_EXTRUIR40_START)):
        Polygon((15.41228676, 22.352505966), (17, 25.102505966), (15.41228676, 27.852505966), (12.236860279, 27.852505966), (10.649147039, 25.102505966), (12.236860279, 22.352505966), align=None)
        with Locations((13.824573519, 25.102505966)):
            Circle(CROQUIS47_R, mode=Mode.SUBTRACT)
        Polygon((-12.236860279, 22.352505966), (-15.41228676, 22.352505966), (-17, 25.102505966), (-15.41228676, 27.852505966), (-12.236860279, 27.852505966), (-10.649147039, 25.102505966), align=None)
        with Locations(Location((-13.824573519, 25.102505966, 0), (0, 0, 131.421584744))):
            Circle(CROQUIS47_R, mode=Mode.SUBTRACT)
    extrude(amount=-CORTAR_EXTRUIR40_DEPTH, mode=Mode.SUBTRACT)

    # Croquis48 → Cortar-Extruir41 (cut)
    with BuildSketch(Plane.XY.offset(15.25).offset(CORTAR_EXTRUIR41_START)):
        with Locations((13.824573519, 25.102505966)):
            Circle(CROQUIS48_R)
        with Locations((-13.824573519, 25.102505966)):
            Circle(CROQUIS48_R)
    extrude(amount=CORTAR_EXTRUIR41_DEPTH, mode=Mode.SUBTRACT)

    # Croquis49 → Cortar-Extruir42 (cut)
    with BuildSketch(Plane(origin=(0, 30, 0), x_dir=(1, 0, 0), z_dir=(0, 1, 0))):
        Polygon((-12.979274058, 11.5), (-10.958548116, 15), (-12.979274058, 18.5), (-17.020725942, 18.5), (-19.041451884, 15), (-17.020725942, 11.5), align=None)
        Polygon((17.020725942, 11.5), (19.041451884, 15), (17.020725942, 18.5), (12.979274058, 18.5), (10.958548116, 15), (12.979274058, 11.5), align=None)
    extrude(amount=-CORTAR_EXTRUIR42_DEPTH, mode=Mode.SUBTRACT)

    # Croquis50 → Cortar-Extruir43 (cut, two sides)
    with BuildSketch(Plane(origin=(0, 30, 0), x_dir=(1, 0, 0), z_dir=(0, 1, 0))) as cortar_extruir43_sk:
        with Locations(Location((-15, 15, 0), (0, 0, 270))):
            Circle(CROQUIS50_R)
        with Locations(Location((15, 15, 0), (0, 0, 270))):
            Circle(CROQUIS50_R)
    extrude(amount=CORTAR_EXTRUIR43_DEPTH, mode=Mode.SUBTRACT)
    extrude(cortar_extruir43_sk.sketch, amount=-CORTAR_EXTRUIR43_DEPTH_BACK, mode=Mode.SUBTRACT)

    # Croquis51 → Cortar-Extruir44 (cut, two sides)
    with BuildSketch(Plane(origin=(0, 30, 0), x_dir=(1, 0, 0), z_dir=(0, 1, 0))) as cortar_extruir44_sk:
        Polygon((-35.175426481, -15.25), (-35.175426481, -7.75), (-19.995154673, 14.232221634), (-19.993600539, 20), (-53.730413568, 5.241110817), (-52.418444784, -16.738442517), align=None)
    extrude(amount=CORTAR_EXTRUIR44_DEPTH, mode=Mode.SUBTRACT)
    extrude(cortar_extruir44_sk.sketch, amount=-CORTAR_EXTRUIR44_DEPTH_BACK, mode=Mode.SUBTRACT)

    # Croquis52 → Saliente-Extruir14 (add)
    with BuildSketch(Plane(origin=(0, 30, 0), x_dir=(1, 0, 0), z_dir=(0, 1, 0))):
        Polygon((-35.175426481, -7.75), (-19.993600539, 20), (-20, -3.75), (-24, -7.75), align=None)
    extrude(amount=-SALIENTE_EXTRUIR14_DEPTH)

    # Croquis54 → Cortar-Extruir45 (cut)
    with BuildSketch(Plane.XY.offset(15.25).offset(CORTAR_EXTRUIR45_START)):
        Polygon((-25.824573519, 25), (-27.41228676, 27.75), (-30.58771324, 27.75), (-32.175426481, 25), (-30.58771324, 22.25), (-27.41228676, 22.25), align=None)
    extrude(amount=CORTAR_EXTRUIR45_DEPTH, mode=Mode.SUBTRACT)


solid = body_2_2.part
